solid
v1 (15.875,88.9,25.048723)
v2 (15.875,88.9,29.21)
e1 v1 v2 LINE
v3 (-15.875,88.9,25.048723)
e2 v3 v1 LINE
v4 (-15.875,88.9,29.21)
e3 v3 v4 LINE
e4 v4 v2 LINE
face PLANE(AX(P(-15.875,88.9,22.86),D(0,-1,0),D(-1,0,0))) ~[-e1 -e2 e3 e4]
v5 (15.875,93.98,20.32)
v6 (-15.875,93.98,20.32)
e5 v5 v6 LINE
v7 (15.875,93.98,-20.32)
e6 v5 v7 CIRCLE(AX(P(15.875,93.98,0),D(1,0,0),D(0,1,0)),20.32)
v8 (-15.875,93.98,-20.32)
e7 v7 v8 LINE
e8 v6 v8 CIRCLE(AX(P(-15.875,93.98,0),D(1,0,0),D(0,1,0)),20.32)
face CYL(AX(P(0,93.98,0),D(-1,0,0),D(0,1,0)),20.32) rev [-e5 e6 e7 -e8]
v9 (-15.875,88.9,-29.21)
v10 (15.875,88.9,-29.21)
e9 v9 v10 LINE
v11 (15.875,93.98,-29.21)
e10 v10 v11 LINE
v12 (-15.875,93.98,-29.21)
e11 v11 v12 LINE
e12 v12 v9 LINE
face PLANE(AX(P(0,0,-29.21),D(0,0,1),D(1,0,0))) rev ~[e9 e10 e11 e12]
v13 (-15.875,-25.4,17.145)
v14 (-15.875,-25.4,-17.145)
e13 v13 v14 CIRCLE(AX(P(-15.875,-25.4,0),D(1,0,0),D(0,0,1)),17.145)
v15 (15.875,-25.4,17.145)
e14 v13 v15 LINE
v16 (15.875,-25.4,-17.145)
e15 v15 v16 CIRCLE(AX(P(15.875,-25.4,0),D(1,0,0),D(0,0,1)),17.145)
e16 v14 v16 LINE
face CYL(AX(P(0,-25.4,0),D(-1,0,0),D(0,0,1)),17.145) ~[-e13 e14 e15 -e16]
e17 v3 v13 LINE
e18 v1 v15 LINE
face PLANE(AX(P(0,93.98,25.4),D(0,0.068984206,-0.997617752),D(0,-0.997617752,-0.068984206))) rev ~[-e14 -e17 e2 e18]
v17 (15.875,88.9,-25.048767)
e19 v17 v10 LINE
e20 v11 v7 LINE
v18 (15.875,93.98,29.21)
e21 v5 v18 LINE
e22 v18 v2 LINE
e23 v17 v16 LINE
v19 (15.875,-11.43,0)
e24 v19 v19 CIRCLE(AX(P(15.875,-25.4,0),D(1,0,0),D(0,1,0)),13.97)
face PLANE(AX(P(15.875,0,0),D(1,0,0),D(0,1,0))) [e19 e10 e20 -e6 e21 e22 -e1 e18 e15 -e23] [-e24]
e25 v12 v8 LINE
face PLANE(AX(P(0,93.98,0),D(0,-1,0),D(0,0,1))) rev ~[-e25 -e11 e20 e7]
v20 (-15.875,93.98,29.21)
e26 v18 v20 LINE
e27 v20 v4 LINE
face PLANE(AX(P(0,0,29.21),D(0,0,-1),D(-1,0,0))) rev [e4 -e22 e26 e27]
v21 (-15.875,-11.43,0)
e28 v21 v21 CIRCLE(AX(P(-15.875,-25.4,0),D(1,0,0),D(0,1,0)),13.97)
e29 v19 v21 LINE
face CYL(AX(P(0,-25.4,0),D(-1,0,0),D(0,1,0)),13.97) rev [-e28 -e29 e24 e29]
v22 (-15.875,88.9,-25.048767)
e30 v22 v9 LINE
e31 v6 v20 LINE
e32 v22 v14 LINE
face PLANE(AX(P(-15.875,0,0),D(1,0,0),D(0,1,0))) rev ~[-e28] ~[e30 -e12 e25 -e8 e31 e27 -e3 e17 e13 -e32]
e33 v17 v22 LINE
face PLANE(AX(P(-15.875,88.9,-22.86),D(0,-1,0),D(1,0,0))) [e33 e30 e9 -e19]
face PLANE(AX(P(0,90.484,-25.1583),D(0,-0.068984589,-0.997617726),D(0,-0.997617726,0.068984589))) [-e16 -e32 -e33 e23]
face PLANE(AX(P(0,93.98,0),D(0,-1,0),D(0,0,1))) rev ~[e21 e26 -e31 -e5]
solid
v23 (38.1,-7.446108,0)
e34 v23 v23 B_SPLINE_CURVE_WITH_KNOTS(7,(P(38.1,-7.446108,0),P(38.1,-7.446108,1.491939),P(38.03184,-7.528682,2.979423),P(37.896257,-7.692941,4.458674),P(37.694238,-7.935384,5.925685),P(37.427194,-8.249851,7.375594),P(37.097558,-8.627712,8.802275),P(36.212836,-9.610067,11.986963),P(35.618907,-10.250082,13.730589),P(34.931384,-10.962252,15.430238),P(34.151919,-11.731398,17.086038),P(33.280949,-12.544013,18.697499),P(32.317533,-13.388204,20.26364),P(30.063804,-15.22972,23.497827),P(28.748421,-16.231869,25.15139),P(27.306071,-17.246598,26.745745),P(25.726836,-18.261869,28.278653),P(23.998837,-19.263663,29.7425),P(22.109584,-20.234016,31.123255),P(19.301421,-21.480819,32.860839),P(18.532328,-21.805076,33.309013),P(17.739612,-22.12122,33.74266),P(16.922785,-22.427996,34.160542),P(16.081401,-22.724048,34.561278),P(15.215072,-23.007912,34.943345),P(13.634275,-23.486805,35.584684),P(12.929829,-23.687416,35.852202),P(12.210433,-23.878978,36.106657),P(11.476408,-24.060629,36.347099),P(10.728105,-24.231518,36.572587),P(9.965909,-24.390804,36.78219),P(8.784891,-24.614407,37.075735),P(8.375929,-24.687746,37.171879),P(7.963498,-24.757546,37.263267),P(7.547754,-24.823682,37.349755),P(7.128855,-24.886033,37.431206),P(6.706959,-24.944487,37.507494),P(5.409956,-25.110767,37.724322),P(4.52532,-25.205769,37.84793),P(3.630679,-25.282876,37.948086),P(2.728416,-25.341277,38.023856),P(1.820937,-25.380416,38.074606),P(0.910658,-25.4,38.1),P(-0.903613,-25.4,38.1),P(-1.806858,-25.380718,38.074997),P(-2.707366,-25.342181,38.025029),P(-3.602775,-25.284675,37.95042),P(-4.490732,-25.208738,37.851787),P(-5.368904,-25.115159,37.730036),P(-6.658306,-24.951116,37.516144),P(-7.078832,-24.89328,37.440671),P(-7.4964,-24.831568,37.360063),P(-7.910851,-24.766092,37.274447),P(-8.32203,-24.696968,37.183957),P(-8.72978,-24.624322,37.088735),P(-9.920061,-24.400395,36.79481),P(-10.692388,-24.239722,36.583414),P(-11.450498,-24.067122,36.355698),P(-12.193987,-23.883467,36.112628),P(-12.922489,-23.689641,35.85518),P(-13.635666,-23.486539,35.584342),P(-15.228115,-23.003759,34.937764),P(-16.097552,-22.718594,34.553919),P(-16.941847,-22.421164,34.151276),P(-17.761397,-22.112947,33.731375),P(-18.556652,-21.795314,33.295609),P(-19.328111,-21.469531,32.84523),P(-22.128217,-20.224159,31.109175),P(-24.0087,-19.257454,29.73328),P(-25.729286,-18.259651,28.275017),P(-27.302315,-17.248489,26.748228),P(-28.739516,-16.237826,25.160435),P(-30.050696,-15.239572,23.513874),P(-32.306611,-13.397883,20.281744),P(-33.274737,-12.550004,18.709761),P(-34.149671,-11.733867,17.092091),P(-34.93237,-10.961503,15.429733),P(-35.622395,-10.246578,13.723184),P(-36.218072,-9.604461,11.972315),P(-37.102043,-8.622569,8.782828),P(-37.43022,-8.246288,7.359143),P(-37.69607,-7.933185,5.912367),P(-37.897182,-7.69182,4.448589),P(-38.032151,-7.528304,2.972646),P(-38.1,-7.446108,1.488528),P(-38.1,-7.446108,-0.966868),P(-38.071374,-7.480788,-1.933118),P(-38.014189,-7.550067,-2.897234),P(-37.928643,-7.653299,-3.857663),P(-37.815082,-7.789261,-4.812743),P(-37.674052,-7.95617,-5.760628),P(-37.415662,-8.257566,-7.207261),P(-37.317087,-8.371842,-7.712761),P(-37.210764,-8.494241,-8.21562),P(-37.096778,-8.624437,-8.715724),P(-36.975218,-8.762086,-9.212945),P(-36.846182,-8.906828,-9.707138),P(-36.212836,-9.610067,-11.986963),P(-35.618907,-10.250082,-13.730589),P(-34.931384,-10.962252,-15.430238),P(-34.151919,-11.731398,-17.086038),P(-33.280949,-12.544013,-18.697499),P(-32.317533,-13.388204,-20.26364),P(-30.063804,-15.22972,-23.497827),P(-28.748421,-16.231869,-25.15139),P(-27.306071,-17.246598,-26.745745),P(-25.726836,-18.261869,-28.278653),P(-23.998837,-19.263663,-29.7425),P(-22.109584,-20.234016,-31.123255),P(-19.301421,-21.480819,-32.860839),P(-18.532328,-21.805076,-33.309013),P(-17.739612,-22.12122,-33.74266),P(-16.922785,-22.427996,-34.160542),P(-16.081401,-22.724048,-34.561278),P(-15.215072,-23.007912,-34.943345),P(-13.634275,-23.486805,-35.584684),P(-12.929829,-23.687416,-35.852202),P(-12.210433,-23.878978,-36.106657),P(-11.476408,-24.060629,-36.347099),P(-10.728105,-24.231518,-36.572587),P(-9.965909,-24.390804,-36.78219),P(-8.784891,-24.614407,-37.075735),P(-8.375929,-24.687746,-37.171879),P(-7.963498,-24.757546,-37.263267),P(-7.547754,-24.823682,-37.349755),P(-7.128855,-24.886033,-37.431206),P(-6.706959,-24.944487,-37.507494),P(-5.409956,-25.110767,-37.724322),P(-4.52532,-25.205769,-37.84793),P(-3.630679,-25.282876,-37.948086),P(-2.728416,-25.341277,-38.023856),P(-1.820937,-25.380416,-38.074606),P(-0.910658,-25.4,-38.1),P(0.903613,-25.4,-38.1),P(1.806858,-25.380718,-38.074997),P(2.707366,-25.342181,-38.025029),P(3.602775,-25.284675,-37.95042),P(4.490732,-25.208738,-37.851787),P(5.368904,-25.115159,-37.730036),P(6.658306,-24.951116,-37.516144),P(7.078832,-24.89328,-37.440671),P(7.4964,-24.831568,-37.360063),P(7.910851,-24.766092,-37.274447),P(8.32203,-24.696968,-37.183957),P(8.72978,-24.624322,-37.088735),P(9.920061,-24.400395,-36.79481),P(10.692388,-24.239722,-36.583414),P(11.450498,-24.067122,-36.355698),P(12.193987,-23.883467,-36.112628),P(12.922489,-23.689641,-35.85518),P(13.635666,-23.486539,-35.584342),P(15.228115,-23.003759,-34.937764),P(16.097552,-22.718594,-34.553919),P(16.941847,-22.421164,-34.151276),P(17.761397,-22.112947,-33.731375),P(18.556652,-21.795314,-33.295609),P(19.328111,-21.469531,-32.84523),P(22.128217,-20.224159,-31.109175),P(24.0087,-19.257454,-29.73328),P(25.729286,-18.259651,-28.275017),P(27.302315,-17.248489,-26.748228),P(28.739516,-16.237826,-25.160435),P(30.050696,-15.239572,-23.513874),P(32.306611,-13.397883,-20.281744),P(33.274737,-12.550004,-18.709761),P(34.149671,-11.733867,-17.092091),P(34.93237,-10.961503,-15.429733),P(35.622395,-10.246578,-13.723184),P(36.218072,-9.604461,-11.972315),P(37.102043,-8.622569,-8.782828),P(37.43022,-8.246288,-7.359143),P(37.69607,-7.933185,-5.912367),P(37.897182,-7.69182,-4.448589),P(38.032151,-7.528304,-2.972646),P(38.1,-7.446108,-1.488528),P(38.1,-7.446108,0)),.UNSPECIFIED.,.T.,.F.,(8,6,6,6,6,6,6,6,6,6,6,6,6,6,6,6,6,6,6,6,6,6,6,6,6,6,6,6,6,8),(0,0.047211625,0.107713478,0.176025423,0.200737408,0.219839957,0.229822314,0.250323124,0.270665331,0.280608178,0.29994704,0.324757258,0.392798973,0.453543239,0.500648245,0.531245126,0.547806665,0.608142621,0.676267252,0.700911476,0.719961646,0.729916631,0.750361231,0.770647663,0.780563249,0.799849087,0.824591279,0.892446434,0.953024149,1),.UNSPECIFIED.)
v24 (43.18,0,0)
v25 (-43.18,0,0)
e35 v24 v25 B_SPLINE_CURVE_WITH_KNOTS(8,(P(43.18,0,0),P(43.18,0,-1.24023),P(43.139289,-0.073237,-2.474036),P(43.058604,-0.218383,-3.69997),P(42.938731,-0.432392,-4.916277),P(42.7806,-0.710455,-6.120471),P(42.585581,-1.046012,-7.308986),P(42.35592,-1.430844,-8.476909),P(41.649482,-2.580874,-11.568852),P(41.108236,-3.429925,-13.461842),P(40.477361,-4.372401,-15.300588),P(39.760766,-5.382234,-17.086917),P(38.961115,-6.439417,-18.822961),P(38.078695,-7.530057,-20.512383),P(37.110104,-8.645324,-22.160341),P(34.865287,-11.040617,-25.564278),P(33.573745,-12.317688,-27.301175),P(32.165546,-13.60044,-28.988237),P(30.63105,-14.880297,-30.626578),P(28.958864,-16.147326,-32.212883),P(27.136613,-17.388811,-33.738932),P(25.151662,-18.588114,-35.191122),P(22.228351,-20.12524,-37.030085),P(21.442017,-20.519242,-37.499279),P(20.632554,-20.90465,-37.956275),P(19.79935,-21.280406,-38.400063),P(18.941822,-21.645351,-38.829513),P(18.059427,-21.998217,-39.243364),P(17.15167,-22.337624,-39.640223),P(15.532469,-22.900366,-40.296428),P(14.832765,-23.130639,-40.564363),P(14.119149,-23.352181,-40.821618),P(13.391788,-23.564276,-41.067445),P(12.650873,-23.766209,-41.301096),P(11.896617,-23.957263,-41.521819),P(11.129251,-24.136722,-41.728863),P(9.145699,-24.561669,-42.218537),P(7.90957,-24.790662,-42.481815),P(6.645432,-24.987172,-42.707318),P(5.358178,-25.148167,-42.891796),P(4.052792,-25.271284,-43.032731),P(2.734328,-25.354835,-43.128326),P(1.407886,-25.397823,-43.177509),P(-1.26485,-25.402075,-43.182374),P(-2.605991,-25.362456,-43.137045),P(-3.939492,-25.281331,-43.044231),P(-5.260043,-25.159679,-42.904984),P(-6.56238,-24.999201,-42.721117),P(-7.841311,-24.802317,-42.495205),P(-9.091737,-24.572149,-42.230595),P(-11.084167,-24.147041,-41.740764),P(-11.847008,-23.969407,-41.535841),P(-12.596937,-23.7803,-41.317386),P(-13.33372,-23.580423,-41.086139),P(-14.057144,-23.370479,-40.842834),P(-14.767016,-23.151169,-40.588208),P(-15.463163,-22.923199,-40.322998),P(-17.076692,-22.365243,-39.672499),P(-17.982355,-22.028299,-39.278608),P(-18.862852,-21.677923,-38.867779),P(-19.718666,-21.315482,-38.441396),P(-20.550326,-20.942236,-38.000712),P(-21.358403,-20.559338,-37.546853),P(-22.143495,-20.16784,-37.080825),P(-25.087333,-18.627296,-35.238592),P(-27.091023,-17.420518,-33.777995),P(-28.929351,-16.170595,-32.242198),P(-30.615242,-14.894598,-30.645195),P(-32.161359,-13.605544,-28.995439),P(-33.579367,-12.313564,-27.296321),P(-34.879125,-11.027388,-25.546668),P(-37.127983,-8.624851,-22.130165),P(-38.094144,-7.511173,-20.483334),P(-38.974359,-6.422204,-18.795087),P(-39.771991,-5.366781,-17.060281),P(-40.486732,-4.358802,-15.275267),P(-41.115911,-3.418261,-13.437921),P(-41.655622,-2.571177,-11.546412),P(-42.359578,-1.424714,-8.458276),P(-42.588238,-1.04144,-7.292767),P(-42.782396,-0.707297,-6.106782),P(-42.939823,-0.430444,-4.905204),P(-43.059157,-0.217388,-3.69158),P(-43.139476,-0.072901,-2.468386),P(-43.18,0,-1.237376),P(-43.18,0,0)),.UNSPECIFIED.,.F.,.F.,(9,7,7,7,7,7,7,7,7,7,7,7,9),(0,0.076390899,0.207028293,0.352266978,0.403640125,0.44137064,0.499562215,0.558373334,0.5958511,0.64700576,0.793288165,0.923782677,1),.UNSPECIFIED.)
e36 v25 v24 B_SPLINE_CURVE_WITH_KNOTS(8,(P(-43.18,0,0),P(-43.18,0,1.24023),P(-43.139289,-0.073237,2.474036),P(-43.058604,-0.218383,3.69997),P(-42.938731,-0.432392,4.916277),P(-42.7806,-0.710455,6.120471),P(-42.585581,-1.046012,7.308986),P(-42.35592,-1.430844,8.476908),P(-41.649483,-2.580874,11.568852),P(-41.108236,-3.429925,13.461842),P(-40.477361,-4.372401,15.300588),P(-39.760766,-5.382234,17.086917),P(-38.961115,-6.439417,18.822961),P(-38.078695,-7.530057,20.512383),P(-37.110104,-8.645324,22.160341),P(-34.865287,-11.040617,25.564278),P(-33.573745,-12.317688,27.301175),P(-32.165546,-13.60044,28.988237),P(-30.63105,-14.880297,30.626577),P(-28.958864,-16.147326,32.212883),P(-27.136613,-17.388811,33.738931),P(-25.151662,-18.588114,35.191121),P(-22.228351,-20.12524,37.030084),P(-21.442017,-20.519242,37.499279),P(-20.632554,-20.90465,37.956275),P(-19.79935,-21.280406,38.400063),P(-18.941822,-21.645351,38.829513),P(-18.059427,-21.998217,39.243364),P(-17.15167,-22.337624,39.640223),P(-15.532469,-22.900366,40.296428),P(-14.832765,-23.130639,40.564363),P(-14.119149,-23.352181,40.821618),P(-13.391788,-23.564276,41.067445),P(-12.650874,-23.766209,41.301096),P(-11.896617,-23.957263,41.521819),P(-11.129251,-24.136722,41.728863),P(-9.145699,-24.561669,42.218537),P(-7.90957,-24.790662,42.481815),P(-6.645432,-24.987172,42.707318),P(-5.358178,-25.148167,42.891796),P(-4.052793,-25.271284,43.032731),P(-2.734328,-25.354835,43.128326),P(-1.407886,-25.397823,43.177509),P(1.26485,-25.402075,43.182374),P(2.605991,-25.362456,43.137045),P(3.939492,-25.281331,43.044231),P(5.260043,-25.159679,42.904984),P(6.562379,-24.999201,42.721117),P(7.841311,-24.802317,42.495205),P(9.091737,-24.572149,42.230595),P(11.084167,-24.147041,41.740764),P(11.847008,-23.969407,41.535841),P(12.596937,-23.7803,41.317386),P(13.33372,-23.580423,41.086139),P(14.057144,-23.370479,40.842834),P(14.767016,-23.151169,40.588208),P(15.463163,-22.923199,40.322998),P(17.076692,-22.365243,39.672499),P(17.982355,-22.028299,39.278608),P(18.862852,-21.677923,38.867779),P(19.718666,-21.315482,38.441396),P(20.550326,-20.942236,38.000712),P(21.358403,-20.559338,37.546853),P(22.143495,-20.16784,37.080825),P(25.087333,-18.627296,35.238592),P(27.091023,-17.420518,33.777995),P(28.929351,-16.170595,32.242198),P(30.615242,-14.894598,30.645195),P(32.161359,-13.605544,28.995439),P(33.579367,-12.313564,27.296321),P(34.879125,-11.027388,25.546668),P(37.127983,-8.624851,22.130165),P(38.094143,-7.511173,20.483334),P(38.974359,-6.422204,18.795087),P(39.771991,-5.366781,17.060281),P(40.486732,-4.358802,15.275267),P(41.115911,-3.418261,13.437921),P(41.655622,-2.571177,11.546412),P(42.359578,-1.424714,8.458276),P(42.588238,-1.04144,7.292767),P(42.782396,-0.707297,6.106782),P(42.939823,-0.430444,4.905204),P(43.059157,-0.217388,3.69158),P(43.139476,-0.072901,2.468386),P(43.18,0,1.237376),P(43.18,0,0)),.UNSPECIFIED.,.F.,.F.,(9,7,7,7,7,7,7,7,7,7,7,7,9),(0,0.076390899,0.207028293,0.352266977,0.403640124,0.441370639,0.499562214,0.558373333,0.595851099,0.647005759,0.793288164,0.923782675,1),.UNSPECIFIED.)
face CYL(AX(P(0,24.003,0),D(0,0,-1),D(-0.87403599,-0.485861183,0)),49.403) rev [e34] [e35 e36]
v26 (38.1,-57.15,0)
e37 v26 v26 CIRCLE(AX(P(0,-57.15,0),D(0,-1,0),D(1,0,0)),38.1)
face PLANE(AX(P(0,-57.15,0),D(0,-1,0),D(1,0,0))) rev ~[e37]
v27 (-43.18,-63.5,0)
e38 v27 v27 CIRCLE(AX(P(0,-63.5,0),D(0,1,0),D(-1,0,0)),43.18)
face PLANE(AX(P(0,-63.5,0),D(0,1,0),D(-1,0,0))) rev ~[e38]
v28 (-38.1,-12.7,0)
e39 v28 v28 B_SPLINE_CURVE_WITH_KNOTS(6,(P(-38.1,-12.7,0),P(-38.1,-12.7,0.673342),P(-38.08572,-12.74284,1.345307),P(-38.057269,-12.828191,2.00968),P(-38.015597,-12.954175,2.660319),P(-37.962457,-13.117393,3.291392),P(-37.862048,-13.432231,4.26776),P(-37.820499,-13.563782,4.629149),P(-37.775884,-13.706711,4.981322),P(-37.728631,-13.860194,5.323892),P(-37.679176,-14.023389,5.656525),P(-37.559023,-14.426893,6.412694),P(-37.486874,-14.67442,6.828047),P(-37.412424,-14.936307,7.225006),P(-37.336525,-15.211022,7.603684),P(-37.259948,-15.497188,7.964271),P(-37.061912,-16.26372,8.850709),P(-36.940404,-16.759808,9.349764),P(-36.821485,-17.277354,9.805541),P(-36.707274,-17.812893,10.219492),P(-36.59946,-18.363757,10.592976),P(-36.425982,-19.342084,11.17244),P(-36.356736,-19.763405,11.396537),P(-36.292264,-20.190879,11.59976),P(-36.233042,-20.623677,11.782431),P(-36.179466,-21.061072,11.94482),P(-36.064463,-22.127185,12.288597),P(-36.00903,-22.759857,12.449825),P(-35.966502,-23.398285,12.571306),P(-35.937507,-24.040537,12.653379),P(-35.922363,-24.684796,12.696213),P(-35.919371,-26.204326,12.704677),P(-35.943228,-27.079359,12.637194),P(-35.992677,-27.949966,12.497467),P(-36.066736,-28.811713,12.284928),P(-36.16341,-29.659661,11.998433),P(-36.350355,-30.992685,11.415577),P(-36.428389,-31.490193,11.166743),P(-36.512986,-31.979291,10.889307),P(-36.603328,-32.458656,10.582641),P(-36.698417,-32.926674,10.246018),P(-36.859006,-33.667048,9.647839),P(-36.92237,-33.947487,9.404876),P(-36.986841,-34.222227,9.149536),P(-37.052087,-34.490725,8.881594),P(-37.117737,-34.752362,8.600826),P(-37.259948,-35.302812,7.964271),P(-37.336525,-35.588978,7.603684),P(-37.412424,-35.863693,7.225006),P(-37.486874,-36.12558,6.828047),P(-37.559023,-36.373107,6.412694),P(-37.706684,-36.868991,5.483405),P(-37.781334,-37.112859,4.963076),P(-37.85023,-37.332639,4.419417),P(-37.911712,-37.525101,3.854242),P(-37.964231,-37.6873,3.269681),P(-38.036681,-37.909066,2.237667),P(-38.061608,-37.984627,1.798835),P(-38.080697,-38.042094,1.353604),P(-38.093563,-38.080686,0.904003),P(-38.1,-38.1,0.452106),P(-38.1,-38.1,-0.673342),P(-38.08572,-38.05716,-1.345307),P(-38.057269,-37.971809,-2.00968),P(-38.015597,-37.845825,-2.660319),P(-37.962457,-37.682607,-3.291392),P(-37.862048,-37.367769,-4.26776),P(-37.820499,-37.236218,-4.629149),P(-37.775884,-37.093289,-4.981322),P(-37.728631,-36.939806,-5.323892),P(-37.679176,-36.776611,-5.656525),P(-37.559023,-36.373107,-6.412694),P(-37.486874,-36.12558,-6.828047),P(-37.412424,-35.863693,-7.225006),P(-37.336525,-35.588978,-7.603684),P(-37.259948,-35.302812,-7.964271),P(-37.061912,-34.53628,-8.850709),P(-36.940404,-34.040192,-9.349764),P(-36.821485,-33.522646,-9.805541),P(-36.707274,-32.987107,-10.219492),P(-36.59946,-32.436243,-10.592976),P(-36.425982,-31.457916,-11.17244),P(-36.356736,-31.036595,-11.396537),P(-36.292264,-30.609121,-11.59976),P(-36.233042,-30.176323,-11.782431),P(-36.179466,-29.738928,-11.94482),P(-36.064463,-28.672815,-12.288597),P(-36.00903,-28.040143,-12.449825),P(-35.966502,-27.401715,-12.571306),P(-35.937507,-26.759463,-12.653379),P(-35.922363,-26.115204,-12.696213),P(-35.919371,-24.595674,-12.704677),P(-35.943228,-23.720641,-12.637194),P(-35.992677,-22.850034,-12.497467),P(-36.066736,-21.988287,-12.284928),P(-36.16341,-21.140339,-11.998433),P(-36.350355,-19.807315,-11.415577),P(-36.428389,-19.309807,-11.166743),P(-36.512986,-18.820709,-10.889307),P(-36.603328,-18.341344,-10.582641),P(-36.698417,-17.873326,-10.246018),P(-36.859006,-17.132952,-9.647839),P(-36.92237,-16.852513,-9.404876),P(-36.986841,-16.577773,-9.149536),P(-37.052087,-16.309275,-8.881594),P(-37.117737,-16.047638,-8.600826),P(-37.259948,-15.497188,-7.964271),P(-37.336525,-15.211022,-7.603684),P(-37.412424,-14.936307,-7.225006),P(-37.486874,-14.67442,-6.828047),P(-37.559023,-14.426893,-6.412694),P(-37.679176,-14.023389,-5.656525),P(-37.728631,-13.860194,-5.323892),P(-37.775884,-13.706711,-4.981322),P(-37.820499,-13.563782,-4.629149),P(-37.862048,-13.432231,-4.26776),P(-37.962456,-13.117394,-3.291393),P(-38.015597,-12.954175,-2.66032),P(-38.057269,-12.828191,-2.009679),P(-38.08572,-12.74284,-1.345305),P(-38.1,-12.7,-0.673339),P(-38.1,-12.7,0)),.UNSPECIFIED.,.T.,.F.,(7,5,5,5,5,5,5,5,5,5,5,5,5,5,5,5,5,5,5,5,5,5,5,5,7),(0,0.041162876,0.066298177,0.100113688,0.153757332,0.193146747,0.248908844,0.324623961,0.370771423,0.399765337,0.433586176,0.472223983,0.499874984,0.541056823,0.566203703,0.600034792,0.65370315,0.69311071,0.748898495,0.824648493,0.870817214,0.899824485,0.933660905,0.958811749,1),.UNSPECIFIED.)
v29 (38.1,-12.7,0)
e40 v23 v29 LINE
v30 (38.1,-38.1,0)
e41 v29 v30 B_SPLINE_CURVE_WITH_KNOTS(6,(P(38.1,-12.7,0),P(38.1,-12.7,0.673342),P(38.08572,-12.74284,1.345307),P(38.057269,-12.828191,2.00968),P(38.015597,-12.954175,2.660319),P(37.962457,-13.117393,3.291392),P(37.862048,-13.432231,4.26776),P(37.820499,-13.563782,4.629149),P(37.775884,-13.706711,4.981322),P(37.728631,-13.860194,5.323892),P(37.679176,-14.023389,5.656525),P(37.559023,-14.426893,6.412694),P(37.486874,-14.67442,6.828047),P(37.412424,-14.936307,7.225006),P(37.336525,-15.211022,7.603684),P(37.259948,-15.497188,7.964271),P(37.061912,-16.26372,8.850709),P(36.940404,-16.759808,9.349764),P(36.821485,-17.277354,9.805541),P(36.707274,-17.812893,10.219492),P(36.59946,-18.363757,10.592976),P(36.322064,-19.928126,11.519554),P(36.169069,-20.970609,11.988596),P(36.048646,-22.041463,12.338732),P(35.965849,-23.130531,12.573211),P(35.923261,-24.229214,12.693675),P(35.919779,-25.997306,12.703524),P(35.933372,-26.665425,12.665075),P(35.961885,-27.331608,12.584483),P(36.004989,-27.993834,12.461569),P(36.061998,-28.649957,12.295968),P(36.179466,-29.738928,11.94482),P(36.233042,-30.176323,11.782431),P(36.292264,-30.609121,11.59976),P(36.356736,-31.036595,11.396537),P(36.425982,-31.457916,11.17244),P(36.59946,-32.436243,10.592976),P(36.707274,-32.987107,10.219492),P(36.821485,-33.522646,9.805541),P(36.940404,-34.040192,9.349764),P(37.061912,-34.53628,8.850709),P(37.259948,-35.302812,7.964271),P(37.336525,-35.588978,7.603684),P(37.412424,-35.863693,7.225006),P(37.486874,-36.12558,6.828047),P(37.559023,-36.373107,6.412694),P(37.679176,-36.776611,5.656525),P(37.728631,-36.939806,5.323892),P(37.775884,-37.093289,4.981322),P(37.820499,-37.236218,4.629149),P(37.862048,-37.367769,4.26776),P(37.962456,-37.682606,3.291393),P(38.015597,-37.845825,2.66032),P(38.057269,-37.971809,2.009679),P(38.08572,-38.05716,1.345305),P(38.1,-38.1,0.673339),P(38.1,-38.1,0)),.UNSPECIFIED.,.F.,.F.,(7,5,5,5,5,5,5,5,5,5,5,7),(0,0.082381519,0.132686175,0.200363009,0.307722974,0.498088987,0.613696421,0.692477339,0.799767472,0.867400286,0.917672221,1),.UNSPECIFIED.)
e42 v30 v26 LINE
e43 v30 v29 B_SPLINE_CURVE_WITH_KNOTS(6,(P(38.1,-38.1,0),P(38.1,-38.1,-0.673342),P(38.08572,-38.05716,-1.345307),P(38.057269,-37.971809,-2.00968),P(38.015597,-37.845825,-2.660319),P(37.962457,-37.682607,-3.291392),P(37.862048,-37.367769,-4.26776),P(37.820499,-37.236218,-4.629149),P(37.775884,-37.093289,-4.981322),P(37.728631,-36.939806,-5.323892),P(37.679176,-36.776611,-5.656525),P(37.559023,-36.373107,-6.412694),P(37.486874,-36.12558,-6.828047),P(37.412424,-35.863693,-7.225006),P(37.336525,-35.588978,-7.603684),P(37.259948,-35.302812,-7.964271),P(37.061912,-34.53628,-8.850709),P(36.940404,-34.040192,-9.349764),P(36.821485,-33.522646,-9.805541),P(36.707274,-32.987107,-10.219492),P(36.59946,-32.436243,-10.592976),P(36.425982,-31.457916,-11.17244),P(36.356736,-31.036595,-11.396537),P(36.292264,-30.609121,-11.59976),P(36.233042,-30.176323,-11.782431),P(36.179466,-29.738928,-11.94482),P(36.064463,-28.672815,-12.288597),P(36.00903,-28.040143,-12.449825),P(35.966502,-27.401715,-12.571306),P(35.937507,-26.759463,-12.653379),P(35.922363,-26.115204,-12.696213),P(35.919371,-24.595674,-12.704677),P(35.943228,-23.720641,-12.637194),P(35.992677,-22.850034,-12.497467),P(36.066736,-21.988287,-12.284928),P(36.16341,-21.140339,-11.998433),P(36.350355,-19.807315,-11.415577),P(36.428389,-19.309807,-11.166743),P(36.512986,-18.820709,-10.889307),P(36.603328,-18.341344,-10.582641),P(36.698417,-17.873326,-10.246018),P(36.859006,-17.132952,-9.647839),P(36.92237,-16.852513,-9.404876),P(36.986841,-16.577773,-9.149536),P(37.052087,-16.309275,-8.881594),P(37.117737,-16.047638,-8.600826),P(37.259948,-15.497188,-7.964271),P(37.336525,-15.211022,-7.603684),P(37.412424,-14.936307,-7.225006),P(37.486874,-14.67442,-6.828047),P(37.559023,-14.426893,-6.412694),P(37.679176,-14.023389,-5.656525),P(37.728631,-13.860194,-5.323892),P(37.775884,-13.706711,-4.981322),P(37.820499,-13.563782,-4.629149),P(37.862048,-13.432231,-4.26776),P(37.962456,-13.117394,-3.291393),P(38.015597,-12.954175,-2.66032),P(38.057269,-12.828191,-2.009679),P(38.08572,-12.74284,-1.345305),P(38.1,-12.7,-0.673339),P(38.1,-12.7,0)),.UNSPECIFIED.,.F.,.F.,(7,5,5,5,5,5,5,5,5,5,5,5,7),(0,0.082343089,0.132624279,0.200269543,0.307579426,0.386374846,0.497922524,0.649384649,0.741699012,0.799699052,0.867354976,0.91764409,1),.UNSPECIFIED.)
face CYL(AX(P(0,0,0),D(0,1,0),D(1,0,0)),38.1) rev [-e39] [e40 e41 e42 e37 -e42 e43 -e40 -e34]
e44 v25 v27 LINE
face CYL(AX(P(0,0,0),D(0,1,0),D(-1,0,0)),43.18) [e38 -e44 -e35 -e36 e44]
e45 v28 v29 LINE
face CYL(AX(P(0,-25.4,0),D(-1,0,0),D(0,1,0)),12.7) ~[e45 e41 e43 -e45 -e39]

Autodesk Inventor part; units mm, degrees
ref_plane "YZ Plane" through (0, 0, 0) normal (1, 0, 0) x (0, 1, 0)
sketch "Sketch1" plane through (0, 0, 0) normal (0, 1, 0) x (-1, 0, 0)
  circle A0 centre (0, 0) radius 43.18
  dimension "d0" = 86.36
extrude "Extrusion1" add sketch "Sketch1" against normal blind 63.5
sketch "Sketch2" plane through (0, 0, 0) normal (0, 0, 1) x (1, 0, 0)
  line L0 (-43.18, 0) -> (43.18, 0) projected
  arc A0 (-43.18, 0) -> (43.18, 0) centre (0, 24.003) ccw
  line L1 (-43.18, -63.5) -> (43.18, -63.5) projected
  point P0 (0, 0)
  dimension "d4" = 38.1
extrude "Extrusion2" cut sketch "Sketch2" along normal mid plane 101.6
ref_plane "Work Plane1" through (0, 0, 0) normal (0, -1, 0) x (1, 0, 0)
sketch "Sketch3" plane through (0, 0, 0) normal (0, -1, 0) x (1, 0, 0)
  circle A0 centre (0, 0) radius 38.1
  dimension "d8" = 76.2
extrude "Extrusion3" cut sketch "Sketch3" along normal blind 57.15
sketch "Sketch4" plane through (0, 0, 0) normal (1, 0, 0) x (0, 1, 0)
  circle A0 centre (-25.4, 0) radius 12.7
  point P0 (0, 0)
  dimension "d11" = 25.4
  dimension "d12" = 25.4
  dimension "d13" = 0
extrude "Extrusion4" add sketch "Sketch4" along normal mid plane 78.74
sketch "Sketch5" plane through (0, 0, 0) normal (1, 0, 0) x (0, 1, 0)
  circle A0 centre (-25.4, 0) radius 13.97
  arc A1 (-25.4, 17.145) -> (-25.4, -17.145) centre (-25.4, 0) ccw
  line L0 (-63.5, 43.18) -> (-63.5, -43.18) projected
  circle A2 centre (93.98, 0) radius 20.32
  arc A3 (90.484, -25.1583) -> (93.98, 25.4) centre (93.98, 0) ccw
  line L1 (93.98, 25.4) -> (-25.4, 17.145)
  line L2 (90.484, -25.1583) -> (-25.4, -17.145)
  point P0 (0, 0)
  point P1 (-25.4, 12.7)
  dimension "d16" = 27.94
  dimension "d17" = 34.29
  dimension "d18" = 38.1
  dimension "d19" = 43.18
  dimension "d20" = 40.64
  dimension "d21" = 0
  dimension "d22" = 119.38
  dimension "d23" = 50.8
extrude "Extrusion5" add sketch "Sketch5" along normal mid plane 31.75
sketch "Sketch6" plane through (0, 0, 0) normal (1, 0, 0) x (0, 1, 0)
  circle A0 centre (93.98, 0) radius 20.32 construction
  line L0 (93.98, 0) -> (93.98, -43.5701)
  line L1 (93.98, 0) -> (93.98, 40.9183)
  line L2 (93.98, 40.9183) -> (142.8926, 40.9183)
  line L3 (142.8926, 40.9183) -> (133.2711, -47.8298)
  line L4 (133.2711, -47.8298) -> (93.98, -43.5701)
  point P0 (0, 0)
extrude "Extrusion6" cut sketch "Sketch6" along normal mid plane 2540
ref_plane "Work Plane2" through (0, 0, -22.86) normal (0, 0, 1) x (1, 0, 0)
sketch "Sketch7" plane through (0, 0, -22.86) normal (0, 0, 1) x (1, 0, 0)
  line L0 (15.875, 90.484) -> (15.875, 93.98) projected
  line L1 (-15.875, -25.4) -> (-15.875, 93.98) construction
  line L2 (15.875, 93.98) -> (-15.875, 93.98)
  line L3 (-15.875, 93.98) -> (-15.875, 88.9)
  line L4 (-15.875, 88.9) -> (15.875, 88.9)
  line L5 (15.875, 88.9) -> (15.875, 93.98)
  point P0 (0, 0)
  dimension "d29" = 5.08
extrude "Extrusion7" add sketch "Sketch7" against normal blind 6.35
mirror "Mirror1" about plane through (0, 0, 0) normal (0, 0, 1) of "Extrusion7"
properties part number "Pistons"
